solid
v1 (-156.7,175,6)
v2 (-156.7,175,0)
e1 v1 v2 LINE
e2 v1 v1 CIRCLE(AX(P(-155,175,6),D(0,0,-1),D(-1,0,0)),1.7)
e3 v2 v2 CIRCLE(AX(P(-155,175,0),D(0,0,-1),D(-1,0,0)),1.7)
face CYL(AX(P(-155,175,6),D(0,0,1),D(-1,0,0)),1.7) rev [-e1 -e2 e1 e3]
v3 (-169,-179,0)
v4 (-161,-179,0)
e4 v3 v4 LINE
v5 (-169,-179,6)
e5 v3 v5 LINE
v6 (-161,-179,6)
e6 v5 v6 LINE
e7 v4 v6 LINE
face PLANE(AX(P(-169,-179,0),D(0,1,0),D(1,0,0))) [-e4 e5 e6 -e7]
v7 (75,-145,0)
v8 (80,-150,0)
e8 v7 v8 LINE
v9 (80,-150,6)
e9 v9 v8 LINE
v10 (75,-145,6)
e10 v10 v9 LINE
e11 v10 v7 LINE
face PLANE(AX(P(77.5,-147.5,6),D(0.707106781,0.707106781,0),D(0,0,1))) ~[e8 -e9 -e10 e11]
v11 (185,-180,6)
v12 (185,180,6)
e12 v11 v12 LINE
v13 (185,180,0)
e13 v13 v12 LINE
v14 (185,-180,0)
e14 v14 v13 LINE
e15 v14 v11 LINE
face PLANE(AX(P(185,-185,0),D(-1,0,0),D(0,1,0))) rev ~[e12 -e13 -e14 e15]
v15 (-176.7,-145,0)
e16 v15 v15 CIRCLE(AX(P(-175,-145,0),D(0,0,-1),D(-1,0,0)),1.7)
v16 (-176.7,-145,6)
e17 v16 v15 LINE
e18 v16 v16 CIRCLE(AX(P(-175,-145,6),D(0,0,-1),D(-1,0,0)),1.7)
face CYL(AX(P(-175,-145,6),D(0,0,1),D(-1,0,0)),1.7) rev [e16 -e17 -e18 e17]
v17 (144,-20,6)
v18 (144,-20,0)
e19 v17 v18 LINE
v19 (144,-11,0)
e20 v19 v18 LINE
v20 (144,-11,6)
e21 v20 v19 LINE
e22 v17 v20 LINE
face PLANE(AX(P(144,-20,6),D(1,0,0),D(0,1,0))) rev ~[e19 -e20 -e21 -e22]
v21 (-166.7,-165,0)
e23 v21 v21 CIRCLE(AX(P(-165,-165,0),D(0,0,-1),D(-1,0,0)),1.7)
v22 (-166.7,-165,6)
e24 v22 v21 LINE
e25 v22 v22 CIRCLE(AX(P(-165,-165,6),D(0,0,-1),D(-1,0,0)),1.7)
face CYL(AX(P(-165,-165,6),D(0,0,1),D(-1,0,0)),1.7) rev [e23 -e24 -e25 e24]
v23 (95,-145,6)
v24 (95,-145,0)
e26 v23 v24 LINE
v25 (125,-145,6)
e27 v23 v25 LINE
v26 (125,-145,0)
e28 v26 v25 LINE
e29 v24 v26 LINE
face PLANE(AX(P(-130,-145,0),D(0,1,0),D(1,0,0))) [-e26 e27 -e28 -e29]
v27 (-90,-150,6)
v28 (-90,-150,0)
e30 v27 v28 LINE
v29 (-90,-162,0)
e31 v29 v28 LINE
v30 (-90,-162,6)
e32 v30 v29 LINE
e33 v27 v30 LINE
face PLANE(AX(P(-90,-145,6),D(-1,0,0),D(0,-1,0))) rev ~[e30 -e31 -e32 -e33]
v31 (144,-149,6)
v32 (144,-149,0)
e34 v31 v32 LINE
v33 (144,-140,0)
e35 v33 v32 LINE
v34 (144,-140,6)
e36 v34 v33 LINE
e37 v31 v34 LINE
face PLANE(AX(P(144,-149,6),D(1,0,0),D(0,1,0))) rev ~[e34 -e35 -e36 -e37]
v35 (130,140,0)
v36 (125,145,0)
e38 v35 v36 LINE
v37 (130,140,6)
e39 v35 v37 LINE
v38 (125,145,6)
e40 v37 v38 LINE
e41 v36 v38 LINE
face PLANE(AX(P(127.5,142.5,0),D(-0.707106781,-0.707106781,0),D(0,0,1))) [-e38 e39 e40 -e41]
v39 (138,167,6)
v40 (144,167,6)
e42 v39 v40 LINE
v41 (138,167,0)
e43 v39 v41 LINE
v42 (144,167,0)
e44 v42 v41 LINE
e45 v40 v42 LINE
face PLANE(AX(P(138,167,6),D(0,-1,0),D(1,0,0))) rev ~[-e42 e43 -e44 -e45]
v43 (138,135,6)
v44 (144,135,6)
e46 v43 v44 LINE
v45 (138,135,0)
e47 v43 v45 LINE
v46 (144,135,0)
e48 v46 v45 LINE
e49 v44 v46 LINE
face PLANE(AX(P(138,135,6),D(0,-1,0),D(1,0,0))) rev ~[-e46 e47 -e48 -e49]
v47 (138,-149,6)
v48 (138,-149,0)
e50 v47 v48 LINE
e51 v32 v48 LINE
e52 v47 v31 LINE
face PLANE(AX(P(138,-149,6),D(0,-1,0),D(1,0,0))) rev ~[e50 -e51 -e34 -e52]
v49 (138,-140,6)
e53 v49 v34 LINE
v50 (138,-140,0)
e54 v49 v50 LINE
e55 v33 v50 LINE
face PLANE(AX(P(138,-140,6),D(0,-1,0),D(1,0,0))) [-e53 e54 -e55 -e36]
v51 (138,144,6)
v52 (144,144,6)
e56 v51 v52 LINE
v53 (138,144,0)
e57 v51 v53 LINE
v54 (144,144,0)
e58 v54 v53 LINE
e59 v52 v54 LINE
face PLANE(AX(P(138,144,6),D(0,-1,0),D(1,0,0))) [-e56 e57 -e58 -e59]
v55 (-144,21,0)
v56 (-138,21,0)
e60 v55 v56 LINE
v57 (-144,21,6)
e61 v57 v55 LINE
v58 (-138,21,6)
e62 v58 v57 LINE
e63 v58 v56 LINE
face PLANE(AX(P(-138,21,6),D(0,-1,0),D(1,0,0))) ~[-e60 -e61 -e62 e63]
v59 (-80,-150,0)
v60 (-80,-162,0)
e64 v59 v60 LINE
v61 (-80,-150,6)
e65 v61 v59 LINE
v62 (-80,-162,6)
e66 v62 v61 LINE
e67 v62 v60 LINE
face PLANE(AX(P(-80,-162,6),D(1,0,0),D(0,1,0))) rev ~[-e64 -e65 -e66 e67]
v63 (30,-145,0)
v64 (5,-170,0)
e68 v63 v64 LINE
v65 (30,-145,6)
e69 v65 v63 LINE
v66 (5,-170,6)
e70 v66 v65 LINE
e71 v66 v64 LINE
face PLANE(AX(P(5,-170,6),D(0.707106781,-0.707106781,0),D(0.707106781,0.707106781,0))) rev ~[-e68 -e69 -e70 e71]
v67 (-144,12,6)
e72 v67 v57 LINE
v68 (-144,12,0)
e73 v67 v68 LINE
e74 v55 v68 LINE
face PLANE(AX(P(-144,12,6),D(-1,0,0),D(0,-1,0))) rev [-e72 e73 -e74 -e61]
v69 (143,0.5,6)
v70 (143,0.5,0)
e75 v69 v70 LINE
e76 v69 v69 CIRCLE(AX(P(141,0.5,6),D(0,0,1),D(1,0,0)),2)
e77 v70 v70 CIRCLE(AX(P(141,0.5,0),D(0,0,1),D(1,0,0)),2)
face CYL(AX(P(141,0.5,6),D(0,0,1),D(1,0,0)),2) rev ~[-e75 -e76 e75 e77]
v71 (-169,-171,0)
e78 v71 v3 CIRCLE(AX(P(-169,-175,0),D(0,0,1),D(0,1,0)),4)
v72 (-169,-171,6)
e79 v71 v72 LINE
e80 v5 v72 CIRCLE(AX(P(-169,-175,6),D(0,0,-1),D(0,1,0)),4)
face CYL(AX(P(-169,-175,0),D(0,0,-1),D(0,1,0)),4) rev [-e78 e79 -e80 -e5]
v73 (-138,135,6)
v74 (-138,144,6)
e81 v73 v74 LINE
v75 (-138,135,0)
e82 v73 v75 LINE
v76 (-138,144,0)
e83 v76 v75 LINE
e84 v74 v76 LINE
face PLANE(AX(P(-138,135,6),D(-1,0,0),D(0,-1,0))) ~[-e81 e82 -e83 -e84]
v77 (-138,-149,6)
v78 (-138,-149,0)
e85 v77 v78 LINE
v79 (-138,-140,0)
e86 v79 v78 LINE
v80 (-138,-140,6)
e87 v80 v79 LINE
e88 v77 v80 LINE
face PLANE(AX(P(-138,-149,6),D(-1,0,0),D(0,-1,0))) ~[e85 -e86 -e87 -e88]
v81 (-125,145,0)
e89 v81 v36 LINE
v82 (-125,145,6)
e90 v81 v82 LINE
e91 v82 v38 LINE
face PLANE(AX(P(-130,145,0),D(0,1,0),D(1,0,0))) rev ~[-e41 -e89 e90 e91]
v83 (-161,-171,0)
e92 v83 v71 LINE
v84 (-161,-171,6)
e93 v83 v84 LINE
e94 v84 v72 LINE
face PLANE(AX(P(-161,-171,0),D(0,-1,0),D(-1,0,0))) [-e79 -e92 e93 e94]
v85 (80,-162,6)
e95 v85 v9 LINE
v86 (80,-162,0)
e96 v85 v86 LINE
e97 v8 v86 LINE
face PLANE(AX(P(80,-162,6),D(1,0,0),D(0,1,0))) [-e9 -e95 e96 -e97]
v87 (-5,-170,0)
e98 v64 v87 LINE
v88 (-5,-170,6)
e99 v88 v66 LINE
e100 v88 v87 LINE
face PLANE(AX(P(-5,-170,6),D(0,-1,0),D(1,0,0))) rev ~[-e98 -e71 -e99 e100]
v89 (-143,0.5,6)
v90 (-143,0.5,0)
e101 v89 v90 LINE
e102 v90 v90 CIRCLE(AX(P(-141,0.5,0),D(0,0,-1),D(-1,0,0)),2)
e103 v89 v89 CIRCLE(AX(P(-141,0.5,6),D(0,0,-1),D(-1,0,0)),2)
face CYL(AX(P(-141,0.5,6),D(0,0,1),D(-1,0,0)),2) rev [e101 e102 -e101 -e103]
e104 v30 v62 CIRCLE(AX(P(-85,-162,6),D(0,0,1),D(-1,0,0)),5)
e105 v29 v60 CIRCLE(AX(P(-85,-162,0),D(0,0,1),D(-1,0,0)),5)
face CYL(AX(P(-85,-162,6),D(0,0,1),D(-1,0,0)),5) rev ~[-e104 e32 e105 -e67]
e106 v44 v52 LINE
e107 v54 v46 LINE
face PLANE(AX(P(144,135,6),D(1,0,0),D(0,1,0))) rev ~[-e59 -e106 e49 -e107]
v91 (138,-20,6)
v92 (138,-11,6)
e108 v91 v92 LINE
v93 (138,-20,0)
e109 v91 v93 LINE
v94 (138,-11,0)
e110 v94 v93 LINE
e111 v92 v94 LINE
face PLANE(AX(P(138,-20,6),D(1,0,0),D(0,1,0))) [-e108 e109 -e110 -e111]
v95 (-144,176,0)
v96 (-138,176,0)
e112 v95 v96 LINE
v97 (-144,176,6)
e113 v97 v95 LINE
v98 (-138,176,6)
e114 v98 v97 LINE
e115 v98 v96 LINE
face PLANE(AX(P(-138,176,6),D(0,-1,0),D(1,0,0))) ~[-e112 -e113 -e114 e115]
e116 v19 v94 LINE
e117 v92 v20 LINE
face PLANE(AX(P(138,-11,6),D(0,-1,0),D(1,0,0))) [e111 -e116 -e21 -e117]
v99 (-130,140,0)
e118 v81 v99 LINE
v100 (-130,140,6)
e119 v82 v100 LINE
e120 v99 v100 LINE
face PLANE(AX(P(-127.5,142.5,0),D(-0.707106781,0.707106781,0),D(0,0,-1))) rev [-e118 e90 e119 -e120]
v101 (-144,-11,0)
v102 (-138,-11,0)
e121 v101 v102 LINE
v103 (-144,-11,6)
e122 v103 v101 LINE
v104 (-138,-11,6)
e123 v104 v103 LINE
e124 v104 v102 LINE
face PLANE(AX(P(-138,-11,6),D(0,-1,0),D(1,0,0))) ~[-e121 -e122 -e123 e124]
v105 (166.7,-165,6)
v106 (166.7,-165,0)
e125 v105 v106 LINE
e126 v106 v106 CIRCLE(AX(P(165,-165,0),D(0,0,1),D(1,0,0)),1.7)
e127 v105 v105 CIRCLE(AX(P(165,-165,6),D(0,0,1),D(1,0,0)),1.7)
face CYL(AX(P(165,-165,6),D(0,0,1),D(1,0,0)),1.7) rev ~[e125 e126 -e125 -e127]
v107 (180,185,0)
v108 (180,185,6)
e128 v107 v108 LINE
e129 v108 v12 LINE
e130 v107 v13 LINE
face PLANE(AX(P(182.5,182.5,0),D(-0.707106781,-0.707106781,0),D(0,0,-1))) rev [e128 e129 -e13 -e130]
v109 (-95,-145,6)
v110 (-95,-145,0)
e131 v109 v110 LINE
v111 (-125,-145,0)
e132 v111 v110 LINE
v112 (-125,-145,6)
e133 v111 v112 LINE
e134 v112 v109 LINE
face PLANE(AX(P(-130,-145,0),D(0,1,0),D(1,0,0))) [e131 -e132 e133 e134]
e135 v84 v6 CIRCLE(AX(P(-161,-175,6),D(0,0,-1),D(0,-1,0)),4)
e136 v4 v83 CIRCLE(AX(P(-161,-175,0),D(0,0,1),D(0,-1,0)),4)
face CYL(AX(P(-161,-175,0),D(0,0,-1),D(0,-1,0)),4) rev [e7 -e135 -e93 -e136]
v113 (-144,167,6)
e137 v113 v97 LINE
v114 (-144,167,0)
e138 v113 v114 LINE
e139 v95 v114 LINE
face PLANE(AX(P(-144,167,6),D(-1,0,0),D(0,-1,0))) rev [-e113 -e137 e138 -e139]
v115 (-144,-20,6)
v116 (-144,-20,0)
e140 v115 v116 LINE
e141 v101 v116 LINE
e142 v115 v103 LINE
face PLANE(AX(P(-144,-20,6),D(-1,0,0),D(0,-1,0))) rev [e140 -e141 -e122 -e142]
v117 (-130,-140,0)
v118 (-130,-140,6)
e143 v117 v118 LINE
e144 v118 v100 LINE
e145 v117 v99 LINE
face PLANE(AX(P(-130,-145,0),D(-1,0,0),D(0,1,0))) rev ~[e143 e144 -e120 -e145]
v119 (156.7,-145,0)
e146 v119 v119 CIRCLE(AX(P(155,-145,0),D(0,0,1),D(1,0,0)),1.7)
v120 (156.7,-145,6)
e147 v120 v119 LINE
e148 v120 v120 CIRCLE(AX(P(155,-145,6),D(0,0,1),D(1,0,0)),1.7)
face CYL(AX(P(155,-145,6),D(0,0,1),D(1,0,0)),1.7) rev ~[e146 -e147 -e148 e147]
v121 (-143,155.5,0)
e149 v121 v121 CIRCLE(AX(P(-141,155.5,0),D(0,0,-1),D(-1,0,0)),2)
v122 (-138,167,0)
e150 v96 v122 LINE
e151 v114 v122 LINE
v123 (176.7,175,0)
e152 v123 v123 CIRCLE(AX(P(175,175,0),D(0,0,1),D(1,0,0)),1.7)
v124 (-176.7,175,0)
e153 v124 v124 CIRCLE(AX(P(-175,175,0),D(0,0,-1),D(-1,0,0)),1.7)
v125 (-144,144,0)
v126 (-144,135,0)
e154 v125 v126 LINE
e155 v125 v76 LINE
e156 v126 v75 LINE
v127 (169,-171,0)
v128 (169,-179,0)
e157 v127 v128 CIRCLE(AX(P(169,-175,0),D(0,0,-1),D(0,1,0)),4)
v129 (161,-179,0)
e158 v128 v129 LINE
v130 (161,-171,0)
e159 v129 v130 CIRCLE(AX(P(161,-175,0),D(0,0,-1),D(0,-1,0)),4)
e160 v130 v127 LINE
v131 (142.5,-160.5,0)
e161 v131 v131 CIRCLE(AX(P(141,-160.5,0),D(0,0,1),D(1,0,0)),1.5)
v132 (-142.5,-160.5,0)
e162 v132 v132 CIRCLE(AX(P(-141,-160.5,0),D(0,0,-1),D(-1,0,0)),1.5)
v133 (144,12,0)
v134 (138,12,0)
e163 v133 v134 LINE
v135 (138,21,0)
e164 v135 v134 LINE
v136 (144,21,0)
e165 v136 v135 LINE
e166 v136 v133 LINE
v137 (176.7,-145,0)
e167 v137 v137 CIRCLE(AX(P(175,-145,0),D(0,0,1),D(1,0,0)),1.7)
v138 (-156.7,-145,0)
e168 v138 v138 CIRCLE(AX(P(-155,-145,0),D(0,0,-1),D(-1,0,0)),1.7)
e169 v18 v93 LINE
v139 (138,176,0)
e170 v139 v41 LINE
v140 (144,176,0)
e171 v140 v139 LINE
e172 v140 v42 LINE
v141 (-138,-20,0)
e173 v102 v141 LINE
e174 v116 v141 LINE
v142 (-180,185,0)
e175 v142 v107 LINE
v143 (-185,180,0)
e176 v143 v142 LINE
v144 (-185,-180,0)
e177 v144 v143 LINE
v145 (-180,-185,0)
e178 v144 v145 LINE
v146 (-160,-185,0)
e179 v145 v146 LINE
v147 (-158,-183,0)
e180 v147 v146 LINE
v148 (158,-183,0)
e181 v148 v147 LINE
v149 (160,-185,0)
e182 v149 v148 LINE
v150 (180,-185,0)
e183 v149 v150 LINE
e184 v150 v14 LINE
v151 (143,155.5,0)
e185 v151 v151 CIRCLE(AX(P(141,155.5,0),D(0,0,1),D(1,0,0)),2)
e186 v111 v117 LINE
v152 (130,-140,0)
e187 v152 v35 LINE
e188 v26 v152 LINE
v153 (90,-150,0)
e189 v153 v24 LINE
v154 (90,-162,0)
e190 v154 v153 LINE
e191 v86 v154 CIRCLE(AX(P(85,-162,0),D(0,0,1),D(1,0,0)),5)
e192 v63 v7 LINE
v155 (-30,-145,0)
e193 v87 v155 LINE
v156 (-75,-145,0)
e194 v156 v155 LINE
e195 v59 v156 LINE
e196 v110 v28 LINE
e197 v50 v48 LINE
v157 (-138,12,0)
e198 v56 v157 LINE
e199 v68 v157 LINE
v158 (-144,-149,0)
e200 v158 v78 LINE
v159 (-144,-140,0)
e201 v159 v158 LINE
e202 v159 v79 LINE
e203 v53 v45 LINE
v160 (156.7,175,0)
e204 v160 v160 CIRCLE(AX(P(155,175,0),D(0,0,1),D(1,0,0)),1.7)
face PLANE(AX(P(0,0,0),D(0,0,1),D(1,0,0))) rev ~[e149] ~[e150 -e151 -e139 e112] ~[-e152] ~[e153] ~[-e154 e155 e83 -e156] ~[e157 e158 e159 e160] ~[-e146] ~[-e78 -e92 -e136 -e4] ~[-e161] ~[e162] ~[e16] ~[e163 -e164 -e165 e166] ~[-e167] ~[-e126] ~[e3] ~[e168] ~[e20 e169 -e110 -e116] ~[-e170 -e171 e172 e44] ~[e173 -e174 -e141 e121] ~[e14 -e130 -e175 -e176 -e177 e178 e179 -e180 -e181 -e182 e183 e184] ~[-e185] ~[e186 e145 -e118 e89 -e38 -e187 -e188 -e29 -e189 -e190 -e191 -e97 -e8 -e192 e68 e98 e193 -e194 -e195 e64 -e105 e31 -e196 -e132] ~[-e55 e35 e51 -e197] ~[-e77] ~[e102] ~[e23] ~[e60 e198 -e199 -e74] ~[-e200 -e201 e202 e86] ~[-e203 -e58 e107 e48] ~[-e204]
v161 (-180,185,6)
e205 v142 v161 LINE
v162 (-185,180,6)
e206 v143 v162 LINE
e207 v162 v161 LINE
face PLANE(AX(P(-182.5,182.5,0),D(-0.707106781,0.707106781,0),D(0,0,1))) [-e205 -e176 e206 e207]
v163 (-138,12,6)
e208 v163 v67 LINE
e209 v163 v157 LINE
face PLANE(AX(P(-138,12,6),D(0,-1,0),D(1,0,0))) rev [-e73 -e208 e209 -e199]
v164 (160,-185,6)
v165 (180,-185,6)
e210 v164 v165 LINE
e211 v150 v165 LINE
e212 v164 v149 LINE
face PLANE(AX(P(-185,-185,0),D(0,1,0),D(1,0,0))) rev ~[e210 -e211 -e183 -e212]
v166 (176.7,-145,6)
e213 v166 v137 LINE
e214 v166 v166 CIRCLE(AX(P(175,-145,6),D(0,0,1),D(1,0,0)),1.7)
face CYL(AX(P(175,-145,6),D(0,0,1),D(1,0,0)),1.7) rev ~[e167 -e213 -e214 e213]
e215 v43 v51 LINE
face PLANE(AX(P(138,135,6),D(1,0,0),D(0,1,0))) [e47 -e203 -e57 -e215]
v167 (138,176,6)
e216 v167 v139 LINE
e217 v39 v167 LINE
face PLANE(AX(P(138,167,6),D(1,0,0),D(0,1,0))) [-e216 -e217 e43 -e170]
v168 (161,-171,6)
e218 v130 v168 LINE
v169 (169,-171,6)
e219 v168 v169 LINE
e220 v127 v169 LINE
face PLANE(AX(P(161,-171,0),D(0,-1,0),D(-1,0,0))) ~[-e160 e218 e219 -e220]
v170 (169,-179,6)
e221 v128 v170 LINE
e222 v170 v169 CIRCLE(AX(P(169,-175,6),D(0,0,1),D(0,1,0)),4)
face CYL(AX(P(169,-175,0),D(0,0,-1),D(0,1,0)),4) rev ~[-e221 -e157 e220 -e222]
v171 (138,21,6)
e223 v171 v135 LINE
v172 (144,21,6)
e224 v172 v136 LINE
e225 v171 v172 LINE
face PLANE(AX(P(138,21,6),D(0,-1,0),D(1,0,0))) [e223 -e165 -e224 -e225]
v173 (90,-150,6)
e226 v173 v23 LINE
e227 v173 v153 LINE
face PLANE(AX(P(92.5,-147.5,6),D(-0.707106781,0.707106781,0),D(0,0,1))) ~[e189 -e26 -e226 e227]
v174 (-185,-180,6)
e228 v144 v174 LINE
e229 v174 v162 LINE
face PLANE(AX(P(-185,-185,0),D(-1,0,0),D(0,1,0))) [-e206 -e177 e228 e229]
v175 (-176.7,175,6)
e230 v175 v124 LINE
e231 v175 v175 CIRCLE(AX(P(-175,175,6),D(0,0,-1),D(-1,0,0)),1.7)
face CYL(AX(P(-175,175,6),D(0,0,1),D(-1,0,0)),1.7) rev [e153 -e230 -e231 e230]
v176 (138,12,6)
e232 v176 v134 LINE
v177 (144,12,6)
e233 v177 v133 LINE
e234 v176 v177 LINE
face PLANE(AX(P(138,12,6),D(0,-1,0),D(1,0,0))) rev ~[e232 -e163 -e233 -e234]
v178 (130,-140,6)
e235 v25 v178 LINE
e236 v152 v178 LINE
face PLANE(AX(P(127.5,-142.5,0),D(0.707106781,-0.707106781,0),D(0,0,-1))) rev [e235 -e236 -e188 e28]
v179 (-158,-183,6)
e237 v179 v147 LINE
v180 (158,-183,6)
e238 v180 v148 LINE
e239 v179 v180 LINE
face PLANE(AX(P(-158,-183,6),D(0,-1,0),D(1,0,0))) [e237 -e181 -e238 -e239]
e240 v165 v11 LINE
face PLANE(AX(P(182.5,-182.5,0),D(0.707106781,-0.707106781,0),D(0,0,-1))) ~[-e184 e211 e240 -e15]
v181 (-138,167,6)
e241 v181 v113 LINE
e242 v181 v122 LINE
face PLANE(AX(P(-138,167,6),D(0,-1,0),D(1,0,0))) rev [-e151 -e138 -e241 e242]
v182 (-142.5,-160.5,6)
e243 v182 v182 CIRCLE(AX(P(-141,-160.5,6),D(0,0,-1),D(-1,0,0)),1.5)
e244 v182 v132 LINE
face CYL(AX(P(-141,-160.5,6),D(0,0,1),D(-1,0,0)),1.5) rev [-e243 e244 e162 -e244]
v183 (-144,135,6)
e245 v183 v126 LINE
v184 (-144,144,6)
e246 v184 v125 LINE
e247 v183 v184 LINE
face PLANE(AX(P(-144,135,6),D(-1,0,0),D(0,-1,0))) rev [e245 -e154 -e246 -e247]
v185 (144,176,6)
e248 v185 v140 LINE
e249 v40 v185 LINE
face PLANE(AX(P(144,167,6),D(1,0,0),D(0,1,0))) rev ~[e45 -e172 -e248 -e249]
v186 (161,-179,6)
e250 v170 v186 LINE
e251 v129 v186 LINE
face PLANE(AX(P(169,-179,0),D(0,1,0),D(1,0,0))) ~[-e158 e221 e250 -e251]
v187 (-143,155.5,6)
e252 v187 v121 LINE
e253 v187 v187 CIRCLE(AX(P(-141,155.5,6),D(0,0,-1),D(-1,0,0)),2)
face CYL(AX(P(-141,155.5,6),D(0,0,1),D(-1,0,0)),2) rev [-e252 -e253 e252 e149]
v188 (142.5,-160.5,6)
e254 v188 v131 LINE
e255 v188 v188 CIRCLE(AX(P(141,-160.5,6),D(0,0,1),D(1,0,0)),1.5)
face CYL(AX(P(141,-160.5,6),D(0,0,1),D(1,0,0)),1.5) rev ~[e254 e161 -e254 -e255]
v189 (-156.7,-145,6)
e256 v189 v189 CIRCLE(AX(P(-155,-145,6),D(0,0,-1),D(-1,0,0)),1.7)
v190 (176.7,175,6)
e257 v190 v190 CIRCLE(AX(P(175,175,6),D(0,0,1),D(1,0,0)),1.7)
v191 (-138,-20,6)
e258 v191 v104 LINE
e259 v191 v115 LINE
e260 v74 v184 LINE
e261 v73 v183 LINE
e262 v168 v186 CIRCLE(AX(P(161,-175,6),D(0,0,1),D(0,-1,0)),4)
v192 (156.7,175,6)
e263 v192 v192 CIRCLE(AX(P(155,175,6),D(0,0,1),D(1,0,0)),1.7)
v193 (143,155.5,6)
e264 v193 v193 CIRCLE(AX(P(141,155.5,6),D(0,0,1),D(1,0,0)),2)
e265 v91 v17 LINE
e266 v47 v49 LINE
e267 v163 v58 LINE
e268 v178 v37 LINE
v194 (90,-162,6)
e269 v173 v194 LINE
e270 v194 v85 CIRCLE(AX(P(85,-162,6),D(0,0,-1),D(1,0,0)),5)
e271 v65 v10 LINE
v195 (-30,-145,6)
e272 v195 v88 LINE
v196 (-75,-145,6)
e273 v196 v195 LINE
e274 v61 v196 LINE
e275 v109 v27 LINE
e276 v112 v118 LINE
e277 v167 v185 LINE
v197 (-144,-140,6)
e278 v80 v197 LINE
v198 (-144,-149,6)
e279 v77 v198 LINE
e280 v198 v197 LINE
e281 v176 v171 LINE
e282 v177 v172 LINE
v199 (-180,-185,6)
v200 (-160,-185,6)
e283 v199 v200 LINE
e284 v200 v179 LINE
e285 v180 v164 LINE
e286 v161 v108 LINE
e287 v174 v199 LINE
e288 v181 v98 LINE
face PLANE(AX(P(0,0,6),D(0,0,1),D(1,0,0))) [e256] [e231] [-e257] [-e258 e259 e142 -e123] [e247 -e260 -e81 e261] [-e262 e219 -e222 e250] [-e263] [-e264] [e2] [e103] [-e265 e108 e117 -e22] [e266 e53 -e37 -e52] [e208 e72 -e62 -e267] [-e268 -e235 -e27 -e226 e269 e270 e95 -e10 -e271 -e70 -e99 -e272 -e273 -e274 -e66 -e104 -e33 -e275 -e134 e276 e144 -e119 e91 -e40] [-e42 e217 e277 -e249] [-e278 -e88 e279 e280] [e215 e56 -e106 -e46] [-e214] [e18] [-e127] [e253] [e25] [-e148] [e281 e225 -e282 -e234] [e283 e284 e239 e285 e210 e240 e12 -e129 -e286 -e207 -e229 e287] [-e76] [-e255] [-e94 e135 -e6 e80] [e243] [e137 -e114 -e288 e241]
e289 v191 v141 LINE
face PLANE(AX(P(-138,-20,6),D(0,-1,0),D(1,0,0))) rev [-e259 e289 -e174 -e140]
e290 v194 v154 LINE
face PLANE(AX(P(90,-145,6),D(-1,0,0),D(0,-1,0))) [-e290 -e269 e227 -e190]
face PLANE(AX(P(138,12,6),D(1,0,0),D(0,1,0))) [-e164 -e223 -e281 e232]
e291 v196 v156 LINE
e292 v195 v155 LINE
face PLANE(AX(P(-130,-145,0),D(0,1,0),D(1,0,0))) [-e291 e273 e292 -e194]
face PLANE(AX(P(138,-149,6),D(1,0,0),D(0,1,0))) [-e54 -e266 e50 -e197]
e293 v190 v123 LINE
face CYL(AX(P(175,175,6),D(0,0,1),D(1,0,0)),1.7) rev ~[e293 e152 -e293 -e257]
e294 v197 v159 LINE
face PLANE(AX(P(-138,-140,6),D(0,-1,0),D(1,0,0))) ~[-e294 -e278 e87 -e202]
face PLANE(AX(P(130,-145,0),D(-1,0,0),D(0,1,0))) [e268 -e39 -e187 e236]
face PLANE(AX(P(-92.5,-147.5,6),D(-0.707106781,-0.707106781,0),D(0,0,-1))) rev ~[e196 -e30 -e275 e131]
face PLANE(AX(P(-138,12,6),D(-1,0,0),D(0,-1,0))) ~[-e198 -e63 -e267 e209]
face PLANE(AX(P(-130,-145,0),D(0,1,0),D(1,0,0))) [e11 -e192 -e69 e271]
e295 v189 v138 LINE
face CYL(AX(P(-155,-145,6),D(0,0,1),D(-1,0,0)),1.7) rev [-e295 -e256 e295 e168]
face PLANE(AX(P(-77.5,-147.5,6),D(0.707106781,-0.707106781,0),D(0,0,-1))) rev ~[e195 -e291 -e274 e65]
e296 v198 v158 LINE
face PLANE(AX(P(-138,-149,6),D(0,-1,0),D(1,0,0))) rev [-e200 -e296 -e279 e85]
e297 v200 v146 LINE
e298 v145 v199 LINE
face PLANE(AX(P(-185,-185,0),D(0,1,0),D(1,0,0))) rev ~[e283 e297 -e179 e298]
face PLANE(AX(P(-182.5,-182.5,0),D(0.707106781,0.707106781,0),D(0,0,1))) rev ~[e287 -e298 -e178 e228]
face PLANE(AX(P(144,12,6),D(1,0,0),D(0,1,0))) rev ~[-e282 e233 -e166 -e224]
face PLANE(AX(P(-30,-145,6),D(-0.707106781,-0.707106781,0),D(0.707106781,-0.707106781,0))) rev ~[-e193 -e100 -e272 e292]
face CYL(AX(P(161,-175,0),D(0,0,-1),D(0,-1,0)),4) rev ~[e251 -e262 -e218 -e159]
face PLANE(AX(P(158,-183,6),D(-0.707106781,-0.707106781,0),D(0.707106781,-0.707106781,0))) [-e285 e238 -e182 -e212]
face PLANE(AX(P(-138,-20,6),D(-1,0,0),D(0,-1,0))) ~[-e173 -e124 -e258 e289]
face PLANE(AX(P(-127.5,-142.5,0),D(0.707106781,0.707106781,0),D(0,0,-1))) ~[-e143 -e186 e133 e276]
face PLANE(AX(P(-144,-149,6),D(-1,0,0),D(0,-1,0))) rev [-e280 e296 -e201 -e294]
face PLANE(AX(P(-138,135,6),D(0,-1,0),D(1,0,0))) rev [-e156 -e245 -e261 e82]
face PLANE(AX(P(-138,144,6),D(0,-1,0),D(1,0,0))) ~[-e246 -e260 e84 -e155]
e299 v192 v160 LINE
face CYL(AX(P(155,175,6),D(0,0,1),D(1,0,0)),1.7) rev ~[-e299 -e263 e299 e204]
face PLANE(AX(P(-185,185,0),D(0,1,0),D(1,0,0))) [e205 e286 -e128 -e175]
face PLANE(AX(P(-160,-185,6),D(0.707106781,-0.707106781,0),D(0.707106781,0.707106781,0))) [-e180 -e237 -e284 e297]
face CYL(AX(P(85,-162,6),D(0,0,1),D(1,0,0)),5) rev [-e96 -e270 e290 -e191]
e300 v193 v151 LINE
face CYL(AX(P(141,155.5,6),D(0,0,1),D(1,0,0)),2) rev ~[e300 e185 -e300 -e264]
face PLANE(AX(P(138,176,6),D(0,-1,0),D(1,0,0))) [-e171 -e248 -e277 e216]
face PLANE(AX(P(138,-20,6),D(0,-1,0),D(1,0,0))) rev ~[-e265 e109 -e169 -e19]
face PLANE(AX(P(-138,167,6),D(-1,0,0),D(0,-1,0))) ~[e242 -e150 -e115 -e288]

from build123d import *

# Parameters (mm, degrees)
SZKIC1_W                    = 370
SZKIC1_H                    = 370
SZKIC1_W_2                  = 260
SZKIC1_H_2                  = 290
DODANIE_WYCI_GNI_CIE1_DEPTH = 6
WYTNIJ_WYCI_GNI_CIE1_REACH  = 263.698
SFAZOWANIE1_SIZE            = 5
WYTNIJ_WYCI_GNI_CIE2_REACH  = 263.698
WYTNIJ_WYCI_GNI_CIE3_REACH  = 263.698
SZKIC4_R                    = 2
SZKIC4_R_2                  = 1.5
SZKIC4_W                    = 6
SZKIC4_H                    = 9
WYTNIJ_WYCI_GNI_CIE4_REACH  = 263.698
SZKIC5_R                    = 1.7
WYTNIJ_WYCI_GNI_CIE5_REACH  = 263.698


with BuildPart() as part:
    # Szkic1 → Dodanie-wyciągnięcie1 (new body)
    with BuildSketch(Plane.XY):
        Rectangle(SZKIC1_W, SZKIC1_H)
        Rectangle(SZKIC1_W_2, SZKIC1_H_2, mode=Mode.SUBTRACT)
    extrude(amount=DODANIE_WYCI_GNI_CIE1_DEPTH)

    # Szkic2 → Wytnij-wyciągnięcie1 (cut, up to next)
    with BuildSketch(Plane.XY.offset(6), mode=Mode.PRIVATE) as wytnij_wyci_gni_cie1_sk1:
        with BuildLine():
            Line((90, -145), (90, -162))
            ThreePointArc((90, -162), (85, -167), (80, -162))
            Line((80, -162), (80, -145))
            Line((80, -145), (90, -145))
        make_face()
    wytnij_wyci_gni_cie1_tool1 = extrude(wytnij_wyci_gni_cie1_sk1.sketch, amount=-WYTNIJ_WYCI_GNI_CIE1_REACH, mode=Mode.PRIVATE) & part.part
    # Szkic2 → Wytnij-wyciągnięcie1 (cut, up to next)
    with BuildSketch(Plane.XY.offset(6), mode=Mode.PRIVATE) as wytnij_wyci_gni_cie1_sk2:
        Polygon((-5, -170), (5, -170), (30, -145), (-30, -145), align=None)
    wytnij_wyci_gni_cie1_tool2 = extrude(wytnij_wyci_gni_cie1_sk2.sketch, amount=-WYTNIJ_WYCI_GNI_CIE1_REACH, mode=Mode.PRIVATE) & part.part
    # Szkic2 → Wytnij-wyciągnięcie1 (cut, up to next)
    with BuildSketch(Plane.XY.offset(6), mode=Mode.PRIVATE) as wytnij_wyci_gni_cie1_sk3:
        with BuildLine():
            Line((-90, -145), (-90, -162))
            ThreePointArc((-90, -162), (-85, -167), (-80, -162))
            Line((-80, -162), (-80, -145))
            Line((-80, -145), (-90, -145))
        make_face()
    wytnij_wyci_gni_cie1_tool3 = extrude(wytnij_wyci_gni_cie1_sk3.sketch, amount=-WYTNIJ_WYCI_GNI_CIE1_REACH, mode=Mode.PRIVATE) & part.part
    add(wytnij_wyci_gni_cie1_tool1.solids().sort_by_distance((85, -155.493251, 6))[0], mode=Mode.SUBTRACT)
    add(wytnij_wyci_gni_cie1_tool2.solids().sort_by_distance((0, -154.52381, 6))[0], mode=Mode.SUBTRACT)
    add(wytnij_wyci_gni_cie1_tool3.solids().sort_by_distance((-85, -155.493251, 6))[0], mode=Mode.SUBTRACT)

    # Sfazowanie1
    sfazowanie1_edges = [part.edges().sort_by_distance(p)[0] for p in [
        (-130, 145, 3),
        (-130, -145, 3),
        (130, -145, 3),
        (130, 145, 3),
        (80, -145, 3),
        (90, -145, 3),
        (-90, -145, 3),
        (-80, -145, 3),
        (185, -185, 3),
        (-185, -185, 3),
        (-185, 185, 3),
        (185, 185, 3),
    ]]
    chamfer(sfazowanie1_edges, length=SFAZOWANIE1_SIZE)

    # Szkic3 → Wytnij-wyciągnięcie2 (cut, up to next)
    with BuildSketch(Plane.XY.offset(6), mode=Mode.PRIVATE) as wytnij_wyci_gni_cie2_sk1:
        Polygon((-158, -183), (158, -183), (160, -185), (-160, -185), align=None)
    wytnij_wyci_gni_cie2_tool1 = extrude(wytnij_wyci_gni_cie2_sk1.sketch, amount=-WYTNIJ_WYCI_GNI_CIE2_REACH, mode=Mode.PRIVATE) & part.part
    add(wytnij_wyci_gni_cie2_tool1.solids().sort_by_distance((0, -184.002096, 6))[0], mode=Mode.SUBTRACT)

    # Szkic4 → Wytnij-wyciągnięcie3 (cut, up to next)
    with BuildSketch(Plane.XY.offset(6), mode=Mode.PRIVATE) as wytnij_wyci_gni_cie3_sk1:
        with Locations((141, 155.5)):
            Circle(SZKIC4_R)
    wytnij_wyci_gni_cie3_tool1 = extrude(wytnij_wyci_gni_cie3_sk1.sketch, amount=-WYTNIJ_WYCI_GNI_CIE3_REACH, mode=Mode.PRIVATE) & part.part
    # Szkic4 → Wytnij-wyciągnięcie3 (cut, up to next)
    with BuildSketch(Plane.XY.offset(6), mode=Mode.PRIVATE) as wytnij_wyci_gni_cie3_sk2:
        with Locations((141, 0.5)):
            Circle(SZKIC4_R)
    wytnij_wyci_gni_cie3_tool2 = extrude(wytnij_wyci_gni_cie3_sk2.sketch, amount=-WYTNIJ_WYCI_GNI_CIE3_REACH, mode=Mode.PRIVATE) & part.part
    # Szkic4 → Wytnij-wyciągnięcie3 (cut, up to next)
    with BuildSketch(Plane.XY.offset(6), mode=Mode.PRIVATE) as wytnij_wyci_gni_cie3_sk3:
        with Locations((141, -160.5)):
            Circle(SZKIC4_R_2)
    wytnij_wyci_gni_cie3_tool3 = extrude(wytnij_wyci_gni_cie3_sk3.sketch, amount=-WYTNIJ_WYCI_GNI_CIE3_REACH, mode=Mode.PRIVATE) & part.part
    # Szkic4 → Wytnij-wyciągnięcie3 (cut, up to next)
    with BuildSketch(Plane.XY.offset(6), mode=Mode.PRIVATE) as wytnij_wyci_gni_cie3_sk4:
        with Locations((141, 171.5)):
            Rectangle(SZKIC4_W, SZKIC4_H)
    wytnij_wyci_gni_cie3_tool4 = extrude(wytnij_wyci_gni_cie3_sk4.sketch, amount=-WYTNIJ_WYCI_GNI_CIE3_REACH, mode=Mode.PRIVATE) & part.part
    # Szkic4 → Wytnij-wyciągnięcie3 (cut, up to next)
    with BuildSketch(Plane.XY.offset(6), mode=Mode.PRIVATE) as wytnij_wyci_gni_cie3_sk5:
        with Locations((141, 139.5)):
            Rectangle(SZKIC4_W, SZKIC4_H)
    wytnij_wyci_gni_cie3_tool5 = extrude(wytnij_wyci_gni_cie3_sk5.sketch, amount=-WYTNIJ_WYCI_GNI_CIE3_REACH, mode=Mode.PRIVATE) & part.part
    # Szkic4 → Wytnij-wyciągnięcie3 (cut, up to next)
    with BuildSketch(Plane.XY.offset(6), mode=Mode.PRIVATE) as wytnij_wyci_gni_cie3_sk6:
        with Locations((141, -15.5)):
            Rectangle(SZKIC4_W, SZKIC4_H)
    wytnij_wyci_gni_cie3_tool6 = extrude(wytnij_wyci_gni_cie3_sk6.sketch, amount=-WYTNIJ_WYCI_GNI_CIE3_REACH, mode=Mode.PRIVATE) & part.part
    # Szkic4 → Wytnij-wyciągnięcie3 (cut, up to next)
    with BuildSketch(Plane.XY.offset(6), mode=Mode.PRIVATE) as wytnij_wyci_gni_cie3_sk7:
        with Locations((141, 16.5)):
            Rectangle(SZKIC4_W, SZKIC4_H)
    wytnij_wyci_gni_cie3_tool7 = extrude(wytnij_wyci_gni_cie3_sk7.sketch, amount=-WYTNIJ_WYCI_GNI_CIE3_REACH, mode=Mode.PRIVATE) & part.part
    # Szkic4 → Wytnij-wyciągnięcie3 (cut, up to next)
    with BuildSketch(Plane.XY.offset(6), mode=Mode.PRIVATE) as wytnij_wyci_gni_cie3_sk8:
        with Locations((141, -144.5)):
            Rectangle(SZKIC4_W, SZKIC4_H)
    wytnij_wyci_gni_cie3_tool8 = extrude(wytnij_wyci_gni_cie3_sk8.sketch, amount=-WYTNIJ_WYCI_GNI_CIE3_REACH, mode=Mode.PRIVATE) & part.part
    wytnij_wyci_gni_cie3_1 = wytnij_wyci_gni_cie3_tool1.solids().sort_by_distance((141, 155.5, 6))[0]
    add(wytnij_wyci_gni_cie3_1, mode=Mode.SUBTRACT)
    wytnij_wyci_gni_cie3_2 = wytnij_wyci_gni_cie3_tool2.solids().sort_by_distance((141, 0.5, 6))[0]
    add(wytnij_wyci_gni_cie3_2, mode=Mode.SUBTRACT)
    wytnij_wyci_gni_cie3_3 = wytnij_wyci_gni_cie3_tool3.solids().sort_by_distance((141, -160.5, 6))[0]
    add(wytnij_wyci_gni_cie3_3, mode=Mode.SUBTRACT)
    wytnij_wyci_gni_cie3_4 = wytnij_wyci_gni_cie3_tool4.solids().sort_by_distance((141, 171.5, 6))[0]
    add(wytnij_wyci_gni_cie3_4, mode=Mode.SUBTRACT)
    wytnij_wyci_gni_cie3_5 = wytnij_wyci_gni_cie3_tool5.solids().sort_by_distance((141, 139.5, 6))[0]
    add(wytnij_wyci_gni_cie3_5, mode=Mode.SUBTRACT)
    wytnij_wyci_gni_cie3_6 = wytnij_wyci_gni_cie3_tool6.solids().sort_by_distance((141, -15.5, 6))[0]
    add(wytnij_wyci_gni_cie3_6, mode=Mode.SUBTRACT)
    wytnij_wyci_gni_cie3_7 = wytnij_wyci_gni_cie3_tool7.solids().sort_by_distance((141, 16.5, 6))[0]
    add(wytnij_wyci_gni_cie3_7, mode=Mode.SUBTRACT)
    wytnij_wyci_gni_cie3_8 = wytnij_wyci_gni_cie3_tool8.solids().sort_by_distance((141, -144.5, 6))[0]
    add(wytnij_wyci_gni_cie3_8, mode=Mode.SUBTRACT)
    wytnij_wyci_gni_cie3 = wytnij_wyci_gni_cie3_1 + wytnij_wyci_gni_cie3_2 + wytnij_wyci_gni_cie3_3 + wytnij_wyci_gni_cie3_4 + wytnij_wyci_gni_cie3_5 + wytnij_wyci_gni_cie3_6 + wytnij_wyci_gni_cie3_7 + wytnij_wyci_gni_cie3_8  # Wytnij-wyciągnięcie3 as one shape, for the pattern or mirror that repeats it

    # Szkic5 → Wytnij-wyciągnięcie4 (cut, up to next)
    with BuildSketch(Plane.XY.offset(6), mode=Mode.PRIVATE) as wytnij_wyci_gni_cie4_sk1:
        with Locations((175, 175)):
            Circle(SZKIC5_R)
    wytnij_wyci_gni_cie4_tool1 = extrude(wytnij_wyci_gni_cie4_sk1.sketch, amount=-WYTNIJ_WYCI_GNI_CIE4_REACH, mode=Mode.PRIVATE) & part.part
    # Szkic5 → Wytnij-wyciągnięcie4 (cut, up to next)
    with BuildSketch(Plane.XY.offset(6), mode=Mode.PRIVATE) as wytnij_wyci_gni_cie4_sk2:
        with Locations((155, 175)):
            Circle(SZKIC5_R)
    wytnij_wyci_gni_cie4_tool2 = extrude(wytnij_wyci_gni_cie4_sk2.sketch, amount=-WYTNIJ_WYCI_GNI_CIE4_REACH, mode=Mode.PRIVATE) & part.part
    # Szkic5 → Wytnij-wyciągnięcie4 (cut, up to next)
    with BuildSketch(Plane.XY.offset(6), mode=Mode.PRIVATE) as wytnij_wyci_gni_cie4_sk3:
        with Locations((175, -145)):
            Circle(SZKIC5_R)
    wytnij_wyci_gni_cie4_tool3 = extrude(wytnij_wyci_gni_cie4_sk3.sketch, amount=-WYTNIJ_WYCI_GNI_CIE4_REACH, mode=Mode.PRIVATE) & part.part
    # Szkic5 → Wytnij-wyciągnięcie4 (cut, up to next)
    with BuildSketch(Plane.XY.offset(6), mode=Mode.PRIVATE) as wytnij_wyci_gni_cie4_sk4:
        with Locations((155, -145)):
            Circle(SZKIC5_R)
    wytnij_wyci_gni_cie4_tool4 = extrude(wytnij_wyci_gni_cie4_sk4.sketch, amount=-WYTNIJ_WYCI_GNI_CIE4_REACH, mode=Mode.PRIVATE) & part.part
    # Szkic5 → Wytnij-wyciągnięcie4 (cut, up to next)
    with BuildSketch(Plane.XY.offset(6), mode=Mode.PRIVATE) as wytnij_wyci_gni_cie4_sk5:
        with Locations((165, -165)):
            Circle(SZKIC5_R)
    wytnij_wyci_gni_cie4_tool5 = extrude(wytnij_wyci_gni_cie4_sk5.sketch, amount=-WYTNIJ_WYCI_GNI_CIE4_REACH, mode=Mode.PRIVATE) & part.part
    wytnij_wyci_gni_cie4_1 = wytnij_wyci_gni_cie4_tool1.solids().sort_by_distance((175, 175, 6))[0]
    add(wytnij_wyci_gni_cie4_1, mode=Mode.SUBTRACT)
    wytnij_wyci_gni_cie4_2 = wytnij_wyci_gni_cie4_tool2.solids().sort_by_distance((155, 175, 6))[0]
    add(wytnij_wyci_gni_cie4_2, mode=Mode.SUBTRACT)
    wytnij_wyci_gni_cie4_3 = wytnij_wyci_gni_cie4_tool3.solids().sort_by_distance((175, -145, 6))[0]
    add(wytnij_wyci_gni_cie4_3, mode=Mode.SUBTRACT)
    wytnij_wyci_gni_cie4_4 = wytnij_wyci_gni_cie4_tool4.solids().sort_by_distance((155, -145, 6))[0]
    add(wytnij_wyci_gni_cie4_4, mode=Mode.SUBTRACT)
    wytnij_wyci_gni_cie4_5 = wytnij_wyci_gni_cie4_tool5.solids().sort_by_distance((165, -165, 6))[0]
    add(wytnij_wyci_gni_cie4_5, mode=Mode.SUBTRACT)
    wytnij_wyci_gni_cie4 = wytnij_wyci_gni_cie4_1 + wytnij_wyci_gni_cie4_2 + wytnij_wyci_gni_cie4_3 + wytnij_wyci_gni_cie4_4 + wytnij_wyci_gni_cie4_5  # Wytnij-wyciągnięcie4 as one shape, for the pattern or mirror that repeats it

    # Szkic6 → Wytnij-wyciągnięcie5 (cut, up to next)
    with BuildSketch(Plane(origin=(0, 0, 0), x_dir=(-1, 0, 0), z_dir=(0, 0, -1)), mode=Mode.PRIVATE) as wytnij_wyci_gni_cie5_sk1:
        with BuildLine():
            Line((161, -171), (169, -171))
            ThreePointArc((169, -171), (173, -175), (169, -179))
            Line((169, -179), (161, -179))
            ThreePointArc((161, -179), (157, -175), (161, -171))
        make_face()
    wytnij_wyci_gni_cie5_tool1 = extrude(wytnij_wyci_gni_cie5_sk1.sketch, amount=-WYTNIJ_WYCI_GNI_CIE5_REACH, mode=Mode.PRIVATE) & part.part
    wytnij_wyci_gni_cie5 = wytnij_wyci_gni_cie5_tool1.solids().sort_by_distance((-165, -175, 0))[0]
    add(wytnij_wyci_gni_cie5, mode=Mode.SUBTRACT)

    # Lustro1: Wytnij-wyciągnięcie3, Wytnij-wyciągnięcie4, Wytnij-wyciągnięcie5 across plane
    add(wytnij_wyci_gni_cie3.mirror(Plane(origin=(0, 0, 0), x_dir=(0, 0, 1), z_dir=(1, 0, 0))), mode=Mode.SUBTRACT)
    add(wytnij_wyci_gni_cie4.mirror(Plane(origin=(0, 0, 0), x_dir=(0, 0, 1), z_dir=(1, 0, 0))), mode=Mode.SUBTRACT)
    add(wytnij_wyci_gni_cie5.mirror(Plane(origin=(0, 0, 0), x_dir=(0, 0, 1), z_dir=(1, 0, 0))), mode=Mode.SUBTRACT)


solid = part.part
